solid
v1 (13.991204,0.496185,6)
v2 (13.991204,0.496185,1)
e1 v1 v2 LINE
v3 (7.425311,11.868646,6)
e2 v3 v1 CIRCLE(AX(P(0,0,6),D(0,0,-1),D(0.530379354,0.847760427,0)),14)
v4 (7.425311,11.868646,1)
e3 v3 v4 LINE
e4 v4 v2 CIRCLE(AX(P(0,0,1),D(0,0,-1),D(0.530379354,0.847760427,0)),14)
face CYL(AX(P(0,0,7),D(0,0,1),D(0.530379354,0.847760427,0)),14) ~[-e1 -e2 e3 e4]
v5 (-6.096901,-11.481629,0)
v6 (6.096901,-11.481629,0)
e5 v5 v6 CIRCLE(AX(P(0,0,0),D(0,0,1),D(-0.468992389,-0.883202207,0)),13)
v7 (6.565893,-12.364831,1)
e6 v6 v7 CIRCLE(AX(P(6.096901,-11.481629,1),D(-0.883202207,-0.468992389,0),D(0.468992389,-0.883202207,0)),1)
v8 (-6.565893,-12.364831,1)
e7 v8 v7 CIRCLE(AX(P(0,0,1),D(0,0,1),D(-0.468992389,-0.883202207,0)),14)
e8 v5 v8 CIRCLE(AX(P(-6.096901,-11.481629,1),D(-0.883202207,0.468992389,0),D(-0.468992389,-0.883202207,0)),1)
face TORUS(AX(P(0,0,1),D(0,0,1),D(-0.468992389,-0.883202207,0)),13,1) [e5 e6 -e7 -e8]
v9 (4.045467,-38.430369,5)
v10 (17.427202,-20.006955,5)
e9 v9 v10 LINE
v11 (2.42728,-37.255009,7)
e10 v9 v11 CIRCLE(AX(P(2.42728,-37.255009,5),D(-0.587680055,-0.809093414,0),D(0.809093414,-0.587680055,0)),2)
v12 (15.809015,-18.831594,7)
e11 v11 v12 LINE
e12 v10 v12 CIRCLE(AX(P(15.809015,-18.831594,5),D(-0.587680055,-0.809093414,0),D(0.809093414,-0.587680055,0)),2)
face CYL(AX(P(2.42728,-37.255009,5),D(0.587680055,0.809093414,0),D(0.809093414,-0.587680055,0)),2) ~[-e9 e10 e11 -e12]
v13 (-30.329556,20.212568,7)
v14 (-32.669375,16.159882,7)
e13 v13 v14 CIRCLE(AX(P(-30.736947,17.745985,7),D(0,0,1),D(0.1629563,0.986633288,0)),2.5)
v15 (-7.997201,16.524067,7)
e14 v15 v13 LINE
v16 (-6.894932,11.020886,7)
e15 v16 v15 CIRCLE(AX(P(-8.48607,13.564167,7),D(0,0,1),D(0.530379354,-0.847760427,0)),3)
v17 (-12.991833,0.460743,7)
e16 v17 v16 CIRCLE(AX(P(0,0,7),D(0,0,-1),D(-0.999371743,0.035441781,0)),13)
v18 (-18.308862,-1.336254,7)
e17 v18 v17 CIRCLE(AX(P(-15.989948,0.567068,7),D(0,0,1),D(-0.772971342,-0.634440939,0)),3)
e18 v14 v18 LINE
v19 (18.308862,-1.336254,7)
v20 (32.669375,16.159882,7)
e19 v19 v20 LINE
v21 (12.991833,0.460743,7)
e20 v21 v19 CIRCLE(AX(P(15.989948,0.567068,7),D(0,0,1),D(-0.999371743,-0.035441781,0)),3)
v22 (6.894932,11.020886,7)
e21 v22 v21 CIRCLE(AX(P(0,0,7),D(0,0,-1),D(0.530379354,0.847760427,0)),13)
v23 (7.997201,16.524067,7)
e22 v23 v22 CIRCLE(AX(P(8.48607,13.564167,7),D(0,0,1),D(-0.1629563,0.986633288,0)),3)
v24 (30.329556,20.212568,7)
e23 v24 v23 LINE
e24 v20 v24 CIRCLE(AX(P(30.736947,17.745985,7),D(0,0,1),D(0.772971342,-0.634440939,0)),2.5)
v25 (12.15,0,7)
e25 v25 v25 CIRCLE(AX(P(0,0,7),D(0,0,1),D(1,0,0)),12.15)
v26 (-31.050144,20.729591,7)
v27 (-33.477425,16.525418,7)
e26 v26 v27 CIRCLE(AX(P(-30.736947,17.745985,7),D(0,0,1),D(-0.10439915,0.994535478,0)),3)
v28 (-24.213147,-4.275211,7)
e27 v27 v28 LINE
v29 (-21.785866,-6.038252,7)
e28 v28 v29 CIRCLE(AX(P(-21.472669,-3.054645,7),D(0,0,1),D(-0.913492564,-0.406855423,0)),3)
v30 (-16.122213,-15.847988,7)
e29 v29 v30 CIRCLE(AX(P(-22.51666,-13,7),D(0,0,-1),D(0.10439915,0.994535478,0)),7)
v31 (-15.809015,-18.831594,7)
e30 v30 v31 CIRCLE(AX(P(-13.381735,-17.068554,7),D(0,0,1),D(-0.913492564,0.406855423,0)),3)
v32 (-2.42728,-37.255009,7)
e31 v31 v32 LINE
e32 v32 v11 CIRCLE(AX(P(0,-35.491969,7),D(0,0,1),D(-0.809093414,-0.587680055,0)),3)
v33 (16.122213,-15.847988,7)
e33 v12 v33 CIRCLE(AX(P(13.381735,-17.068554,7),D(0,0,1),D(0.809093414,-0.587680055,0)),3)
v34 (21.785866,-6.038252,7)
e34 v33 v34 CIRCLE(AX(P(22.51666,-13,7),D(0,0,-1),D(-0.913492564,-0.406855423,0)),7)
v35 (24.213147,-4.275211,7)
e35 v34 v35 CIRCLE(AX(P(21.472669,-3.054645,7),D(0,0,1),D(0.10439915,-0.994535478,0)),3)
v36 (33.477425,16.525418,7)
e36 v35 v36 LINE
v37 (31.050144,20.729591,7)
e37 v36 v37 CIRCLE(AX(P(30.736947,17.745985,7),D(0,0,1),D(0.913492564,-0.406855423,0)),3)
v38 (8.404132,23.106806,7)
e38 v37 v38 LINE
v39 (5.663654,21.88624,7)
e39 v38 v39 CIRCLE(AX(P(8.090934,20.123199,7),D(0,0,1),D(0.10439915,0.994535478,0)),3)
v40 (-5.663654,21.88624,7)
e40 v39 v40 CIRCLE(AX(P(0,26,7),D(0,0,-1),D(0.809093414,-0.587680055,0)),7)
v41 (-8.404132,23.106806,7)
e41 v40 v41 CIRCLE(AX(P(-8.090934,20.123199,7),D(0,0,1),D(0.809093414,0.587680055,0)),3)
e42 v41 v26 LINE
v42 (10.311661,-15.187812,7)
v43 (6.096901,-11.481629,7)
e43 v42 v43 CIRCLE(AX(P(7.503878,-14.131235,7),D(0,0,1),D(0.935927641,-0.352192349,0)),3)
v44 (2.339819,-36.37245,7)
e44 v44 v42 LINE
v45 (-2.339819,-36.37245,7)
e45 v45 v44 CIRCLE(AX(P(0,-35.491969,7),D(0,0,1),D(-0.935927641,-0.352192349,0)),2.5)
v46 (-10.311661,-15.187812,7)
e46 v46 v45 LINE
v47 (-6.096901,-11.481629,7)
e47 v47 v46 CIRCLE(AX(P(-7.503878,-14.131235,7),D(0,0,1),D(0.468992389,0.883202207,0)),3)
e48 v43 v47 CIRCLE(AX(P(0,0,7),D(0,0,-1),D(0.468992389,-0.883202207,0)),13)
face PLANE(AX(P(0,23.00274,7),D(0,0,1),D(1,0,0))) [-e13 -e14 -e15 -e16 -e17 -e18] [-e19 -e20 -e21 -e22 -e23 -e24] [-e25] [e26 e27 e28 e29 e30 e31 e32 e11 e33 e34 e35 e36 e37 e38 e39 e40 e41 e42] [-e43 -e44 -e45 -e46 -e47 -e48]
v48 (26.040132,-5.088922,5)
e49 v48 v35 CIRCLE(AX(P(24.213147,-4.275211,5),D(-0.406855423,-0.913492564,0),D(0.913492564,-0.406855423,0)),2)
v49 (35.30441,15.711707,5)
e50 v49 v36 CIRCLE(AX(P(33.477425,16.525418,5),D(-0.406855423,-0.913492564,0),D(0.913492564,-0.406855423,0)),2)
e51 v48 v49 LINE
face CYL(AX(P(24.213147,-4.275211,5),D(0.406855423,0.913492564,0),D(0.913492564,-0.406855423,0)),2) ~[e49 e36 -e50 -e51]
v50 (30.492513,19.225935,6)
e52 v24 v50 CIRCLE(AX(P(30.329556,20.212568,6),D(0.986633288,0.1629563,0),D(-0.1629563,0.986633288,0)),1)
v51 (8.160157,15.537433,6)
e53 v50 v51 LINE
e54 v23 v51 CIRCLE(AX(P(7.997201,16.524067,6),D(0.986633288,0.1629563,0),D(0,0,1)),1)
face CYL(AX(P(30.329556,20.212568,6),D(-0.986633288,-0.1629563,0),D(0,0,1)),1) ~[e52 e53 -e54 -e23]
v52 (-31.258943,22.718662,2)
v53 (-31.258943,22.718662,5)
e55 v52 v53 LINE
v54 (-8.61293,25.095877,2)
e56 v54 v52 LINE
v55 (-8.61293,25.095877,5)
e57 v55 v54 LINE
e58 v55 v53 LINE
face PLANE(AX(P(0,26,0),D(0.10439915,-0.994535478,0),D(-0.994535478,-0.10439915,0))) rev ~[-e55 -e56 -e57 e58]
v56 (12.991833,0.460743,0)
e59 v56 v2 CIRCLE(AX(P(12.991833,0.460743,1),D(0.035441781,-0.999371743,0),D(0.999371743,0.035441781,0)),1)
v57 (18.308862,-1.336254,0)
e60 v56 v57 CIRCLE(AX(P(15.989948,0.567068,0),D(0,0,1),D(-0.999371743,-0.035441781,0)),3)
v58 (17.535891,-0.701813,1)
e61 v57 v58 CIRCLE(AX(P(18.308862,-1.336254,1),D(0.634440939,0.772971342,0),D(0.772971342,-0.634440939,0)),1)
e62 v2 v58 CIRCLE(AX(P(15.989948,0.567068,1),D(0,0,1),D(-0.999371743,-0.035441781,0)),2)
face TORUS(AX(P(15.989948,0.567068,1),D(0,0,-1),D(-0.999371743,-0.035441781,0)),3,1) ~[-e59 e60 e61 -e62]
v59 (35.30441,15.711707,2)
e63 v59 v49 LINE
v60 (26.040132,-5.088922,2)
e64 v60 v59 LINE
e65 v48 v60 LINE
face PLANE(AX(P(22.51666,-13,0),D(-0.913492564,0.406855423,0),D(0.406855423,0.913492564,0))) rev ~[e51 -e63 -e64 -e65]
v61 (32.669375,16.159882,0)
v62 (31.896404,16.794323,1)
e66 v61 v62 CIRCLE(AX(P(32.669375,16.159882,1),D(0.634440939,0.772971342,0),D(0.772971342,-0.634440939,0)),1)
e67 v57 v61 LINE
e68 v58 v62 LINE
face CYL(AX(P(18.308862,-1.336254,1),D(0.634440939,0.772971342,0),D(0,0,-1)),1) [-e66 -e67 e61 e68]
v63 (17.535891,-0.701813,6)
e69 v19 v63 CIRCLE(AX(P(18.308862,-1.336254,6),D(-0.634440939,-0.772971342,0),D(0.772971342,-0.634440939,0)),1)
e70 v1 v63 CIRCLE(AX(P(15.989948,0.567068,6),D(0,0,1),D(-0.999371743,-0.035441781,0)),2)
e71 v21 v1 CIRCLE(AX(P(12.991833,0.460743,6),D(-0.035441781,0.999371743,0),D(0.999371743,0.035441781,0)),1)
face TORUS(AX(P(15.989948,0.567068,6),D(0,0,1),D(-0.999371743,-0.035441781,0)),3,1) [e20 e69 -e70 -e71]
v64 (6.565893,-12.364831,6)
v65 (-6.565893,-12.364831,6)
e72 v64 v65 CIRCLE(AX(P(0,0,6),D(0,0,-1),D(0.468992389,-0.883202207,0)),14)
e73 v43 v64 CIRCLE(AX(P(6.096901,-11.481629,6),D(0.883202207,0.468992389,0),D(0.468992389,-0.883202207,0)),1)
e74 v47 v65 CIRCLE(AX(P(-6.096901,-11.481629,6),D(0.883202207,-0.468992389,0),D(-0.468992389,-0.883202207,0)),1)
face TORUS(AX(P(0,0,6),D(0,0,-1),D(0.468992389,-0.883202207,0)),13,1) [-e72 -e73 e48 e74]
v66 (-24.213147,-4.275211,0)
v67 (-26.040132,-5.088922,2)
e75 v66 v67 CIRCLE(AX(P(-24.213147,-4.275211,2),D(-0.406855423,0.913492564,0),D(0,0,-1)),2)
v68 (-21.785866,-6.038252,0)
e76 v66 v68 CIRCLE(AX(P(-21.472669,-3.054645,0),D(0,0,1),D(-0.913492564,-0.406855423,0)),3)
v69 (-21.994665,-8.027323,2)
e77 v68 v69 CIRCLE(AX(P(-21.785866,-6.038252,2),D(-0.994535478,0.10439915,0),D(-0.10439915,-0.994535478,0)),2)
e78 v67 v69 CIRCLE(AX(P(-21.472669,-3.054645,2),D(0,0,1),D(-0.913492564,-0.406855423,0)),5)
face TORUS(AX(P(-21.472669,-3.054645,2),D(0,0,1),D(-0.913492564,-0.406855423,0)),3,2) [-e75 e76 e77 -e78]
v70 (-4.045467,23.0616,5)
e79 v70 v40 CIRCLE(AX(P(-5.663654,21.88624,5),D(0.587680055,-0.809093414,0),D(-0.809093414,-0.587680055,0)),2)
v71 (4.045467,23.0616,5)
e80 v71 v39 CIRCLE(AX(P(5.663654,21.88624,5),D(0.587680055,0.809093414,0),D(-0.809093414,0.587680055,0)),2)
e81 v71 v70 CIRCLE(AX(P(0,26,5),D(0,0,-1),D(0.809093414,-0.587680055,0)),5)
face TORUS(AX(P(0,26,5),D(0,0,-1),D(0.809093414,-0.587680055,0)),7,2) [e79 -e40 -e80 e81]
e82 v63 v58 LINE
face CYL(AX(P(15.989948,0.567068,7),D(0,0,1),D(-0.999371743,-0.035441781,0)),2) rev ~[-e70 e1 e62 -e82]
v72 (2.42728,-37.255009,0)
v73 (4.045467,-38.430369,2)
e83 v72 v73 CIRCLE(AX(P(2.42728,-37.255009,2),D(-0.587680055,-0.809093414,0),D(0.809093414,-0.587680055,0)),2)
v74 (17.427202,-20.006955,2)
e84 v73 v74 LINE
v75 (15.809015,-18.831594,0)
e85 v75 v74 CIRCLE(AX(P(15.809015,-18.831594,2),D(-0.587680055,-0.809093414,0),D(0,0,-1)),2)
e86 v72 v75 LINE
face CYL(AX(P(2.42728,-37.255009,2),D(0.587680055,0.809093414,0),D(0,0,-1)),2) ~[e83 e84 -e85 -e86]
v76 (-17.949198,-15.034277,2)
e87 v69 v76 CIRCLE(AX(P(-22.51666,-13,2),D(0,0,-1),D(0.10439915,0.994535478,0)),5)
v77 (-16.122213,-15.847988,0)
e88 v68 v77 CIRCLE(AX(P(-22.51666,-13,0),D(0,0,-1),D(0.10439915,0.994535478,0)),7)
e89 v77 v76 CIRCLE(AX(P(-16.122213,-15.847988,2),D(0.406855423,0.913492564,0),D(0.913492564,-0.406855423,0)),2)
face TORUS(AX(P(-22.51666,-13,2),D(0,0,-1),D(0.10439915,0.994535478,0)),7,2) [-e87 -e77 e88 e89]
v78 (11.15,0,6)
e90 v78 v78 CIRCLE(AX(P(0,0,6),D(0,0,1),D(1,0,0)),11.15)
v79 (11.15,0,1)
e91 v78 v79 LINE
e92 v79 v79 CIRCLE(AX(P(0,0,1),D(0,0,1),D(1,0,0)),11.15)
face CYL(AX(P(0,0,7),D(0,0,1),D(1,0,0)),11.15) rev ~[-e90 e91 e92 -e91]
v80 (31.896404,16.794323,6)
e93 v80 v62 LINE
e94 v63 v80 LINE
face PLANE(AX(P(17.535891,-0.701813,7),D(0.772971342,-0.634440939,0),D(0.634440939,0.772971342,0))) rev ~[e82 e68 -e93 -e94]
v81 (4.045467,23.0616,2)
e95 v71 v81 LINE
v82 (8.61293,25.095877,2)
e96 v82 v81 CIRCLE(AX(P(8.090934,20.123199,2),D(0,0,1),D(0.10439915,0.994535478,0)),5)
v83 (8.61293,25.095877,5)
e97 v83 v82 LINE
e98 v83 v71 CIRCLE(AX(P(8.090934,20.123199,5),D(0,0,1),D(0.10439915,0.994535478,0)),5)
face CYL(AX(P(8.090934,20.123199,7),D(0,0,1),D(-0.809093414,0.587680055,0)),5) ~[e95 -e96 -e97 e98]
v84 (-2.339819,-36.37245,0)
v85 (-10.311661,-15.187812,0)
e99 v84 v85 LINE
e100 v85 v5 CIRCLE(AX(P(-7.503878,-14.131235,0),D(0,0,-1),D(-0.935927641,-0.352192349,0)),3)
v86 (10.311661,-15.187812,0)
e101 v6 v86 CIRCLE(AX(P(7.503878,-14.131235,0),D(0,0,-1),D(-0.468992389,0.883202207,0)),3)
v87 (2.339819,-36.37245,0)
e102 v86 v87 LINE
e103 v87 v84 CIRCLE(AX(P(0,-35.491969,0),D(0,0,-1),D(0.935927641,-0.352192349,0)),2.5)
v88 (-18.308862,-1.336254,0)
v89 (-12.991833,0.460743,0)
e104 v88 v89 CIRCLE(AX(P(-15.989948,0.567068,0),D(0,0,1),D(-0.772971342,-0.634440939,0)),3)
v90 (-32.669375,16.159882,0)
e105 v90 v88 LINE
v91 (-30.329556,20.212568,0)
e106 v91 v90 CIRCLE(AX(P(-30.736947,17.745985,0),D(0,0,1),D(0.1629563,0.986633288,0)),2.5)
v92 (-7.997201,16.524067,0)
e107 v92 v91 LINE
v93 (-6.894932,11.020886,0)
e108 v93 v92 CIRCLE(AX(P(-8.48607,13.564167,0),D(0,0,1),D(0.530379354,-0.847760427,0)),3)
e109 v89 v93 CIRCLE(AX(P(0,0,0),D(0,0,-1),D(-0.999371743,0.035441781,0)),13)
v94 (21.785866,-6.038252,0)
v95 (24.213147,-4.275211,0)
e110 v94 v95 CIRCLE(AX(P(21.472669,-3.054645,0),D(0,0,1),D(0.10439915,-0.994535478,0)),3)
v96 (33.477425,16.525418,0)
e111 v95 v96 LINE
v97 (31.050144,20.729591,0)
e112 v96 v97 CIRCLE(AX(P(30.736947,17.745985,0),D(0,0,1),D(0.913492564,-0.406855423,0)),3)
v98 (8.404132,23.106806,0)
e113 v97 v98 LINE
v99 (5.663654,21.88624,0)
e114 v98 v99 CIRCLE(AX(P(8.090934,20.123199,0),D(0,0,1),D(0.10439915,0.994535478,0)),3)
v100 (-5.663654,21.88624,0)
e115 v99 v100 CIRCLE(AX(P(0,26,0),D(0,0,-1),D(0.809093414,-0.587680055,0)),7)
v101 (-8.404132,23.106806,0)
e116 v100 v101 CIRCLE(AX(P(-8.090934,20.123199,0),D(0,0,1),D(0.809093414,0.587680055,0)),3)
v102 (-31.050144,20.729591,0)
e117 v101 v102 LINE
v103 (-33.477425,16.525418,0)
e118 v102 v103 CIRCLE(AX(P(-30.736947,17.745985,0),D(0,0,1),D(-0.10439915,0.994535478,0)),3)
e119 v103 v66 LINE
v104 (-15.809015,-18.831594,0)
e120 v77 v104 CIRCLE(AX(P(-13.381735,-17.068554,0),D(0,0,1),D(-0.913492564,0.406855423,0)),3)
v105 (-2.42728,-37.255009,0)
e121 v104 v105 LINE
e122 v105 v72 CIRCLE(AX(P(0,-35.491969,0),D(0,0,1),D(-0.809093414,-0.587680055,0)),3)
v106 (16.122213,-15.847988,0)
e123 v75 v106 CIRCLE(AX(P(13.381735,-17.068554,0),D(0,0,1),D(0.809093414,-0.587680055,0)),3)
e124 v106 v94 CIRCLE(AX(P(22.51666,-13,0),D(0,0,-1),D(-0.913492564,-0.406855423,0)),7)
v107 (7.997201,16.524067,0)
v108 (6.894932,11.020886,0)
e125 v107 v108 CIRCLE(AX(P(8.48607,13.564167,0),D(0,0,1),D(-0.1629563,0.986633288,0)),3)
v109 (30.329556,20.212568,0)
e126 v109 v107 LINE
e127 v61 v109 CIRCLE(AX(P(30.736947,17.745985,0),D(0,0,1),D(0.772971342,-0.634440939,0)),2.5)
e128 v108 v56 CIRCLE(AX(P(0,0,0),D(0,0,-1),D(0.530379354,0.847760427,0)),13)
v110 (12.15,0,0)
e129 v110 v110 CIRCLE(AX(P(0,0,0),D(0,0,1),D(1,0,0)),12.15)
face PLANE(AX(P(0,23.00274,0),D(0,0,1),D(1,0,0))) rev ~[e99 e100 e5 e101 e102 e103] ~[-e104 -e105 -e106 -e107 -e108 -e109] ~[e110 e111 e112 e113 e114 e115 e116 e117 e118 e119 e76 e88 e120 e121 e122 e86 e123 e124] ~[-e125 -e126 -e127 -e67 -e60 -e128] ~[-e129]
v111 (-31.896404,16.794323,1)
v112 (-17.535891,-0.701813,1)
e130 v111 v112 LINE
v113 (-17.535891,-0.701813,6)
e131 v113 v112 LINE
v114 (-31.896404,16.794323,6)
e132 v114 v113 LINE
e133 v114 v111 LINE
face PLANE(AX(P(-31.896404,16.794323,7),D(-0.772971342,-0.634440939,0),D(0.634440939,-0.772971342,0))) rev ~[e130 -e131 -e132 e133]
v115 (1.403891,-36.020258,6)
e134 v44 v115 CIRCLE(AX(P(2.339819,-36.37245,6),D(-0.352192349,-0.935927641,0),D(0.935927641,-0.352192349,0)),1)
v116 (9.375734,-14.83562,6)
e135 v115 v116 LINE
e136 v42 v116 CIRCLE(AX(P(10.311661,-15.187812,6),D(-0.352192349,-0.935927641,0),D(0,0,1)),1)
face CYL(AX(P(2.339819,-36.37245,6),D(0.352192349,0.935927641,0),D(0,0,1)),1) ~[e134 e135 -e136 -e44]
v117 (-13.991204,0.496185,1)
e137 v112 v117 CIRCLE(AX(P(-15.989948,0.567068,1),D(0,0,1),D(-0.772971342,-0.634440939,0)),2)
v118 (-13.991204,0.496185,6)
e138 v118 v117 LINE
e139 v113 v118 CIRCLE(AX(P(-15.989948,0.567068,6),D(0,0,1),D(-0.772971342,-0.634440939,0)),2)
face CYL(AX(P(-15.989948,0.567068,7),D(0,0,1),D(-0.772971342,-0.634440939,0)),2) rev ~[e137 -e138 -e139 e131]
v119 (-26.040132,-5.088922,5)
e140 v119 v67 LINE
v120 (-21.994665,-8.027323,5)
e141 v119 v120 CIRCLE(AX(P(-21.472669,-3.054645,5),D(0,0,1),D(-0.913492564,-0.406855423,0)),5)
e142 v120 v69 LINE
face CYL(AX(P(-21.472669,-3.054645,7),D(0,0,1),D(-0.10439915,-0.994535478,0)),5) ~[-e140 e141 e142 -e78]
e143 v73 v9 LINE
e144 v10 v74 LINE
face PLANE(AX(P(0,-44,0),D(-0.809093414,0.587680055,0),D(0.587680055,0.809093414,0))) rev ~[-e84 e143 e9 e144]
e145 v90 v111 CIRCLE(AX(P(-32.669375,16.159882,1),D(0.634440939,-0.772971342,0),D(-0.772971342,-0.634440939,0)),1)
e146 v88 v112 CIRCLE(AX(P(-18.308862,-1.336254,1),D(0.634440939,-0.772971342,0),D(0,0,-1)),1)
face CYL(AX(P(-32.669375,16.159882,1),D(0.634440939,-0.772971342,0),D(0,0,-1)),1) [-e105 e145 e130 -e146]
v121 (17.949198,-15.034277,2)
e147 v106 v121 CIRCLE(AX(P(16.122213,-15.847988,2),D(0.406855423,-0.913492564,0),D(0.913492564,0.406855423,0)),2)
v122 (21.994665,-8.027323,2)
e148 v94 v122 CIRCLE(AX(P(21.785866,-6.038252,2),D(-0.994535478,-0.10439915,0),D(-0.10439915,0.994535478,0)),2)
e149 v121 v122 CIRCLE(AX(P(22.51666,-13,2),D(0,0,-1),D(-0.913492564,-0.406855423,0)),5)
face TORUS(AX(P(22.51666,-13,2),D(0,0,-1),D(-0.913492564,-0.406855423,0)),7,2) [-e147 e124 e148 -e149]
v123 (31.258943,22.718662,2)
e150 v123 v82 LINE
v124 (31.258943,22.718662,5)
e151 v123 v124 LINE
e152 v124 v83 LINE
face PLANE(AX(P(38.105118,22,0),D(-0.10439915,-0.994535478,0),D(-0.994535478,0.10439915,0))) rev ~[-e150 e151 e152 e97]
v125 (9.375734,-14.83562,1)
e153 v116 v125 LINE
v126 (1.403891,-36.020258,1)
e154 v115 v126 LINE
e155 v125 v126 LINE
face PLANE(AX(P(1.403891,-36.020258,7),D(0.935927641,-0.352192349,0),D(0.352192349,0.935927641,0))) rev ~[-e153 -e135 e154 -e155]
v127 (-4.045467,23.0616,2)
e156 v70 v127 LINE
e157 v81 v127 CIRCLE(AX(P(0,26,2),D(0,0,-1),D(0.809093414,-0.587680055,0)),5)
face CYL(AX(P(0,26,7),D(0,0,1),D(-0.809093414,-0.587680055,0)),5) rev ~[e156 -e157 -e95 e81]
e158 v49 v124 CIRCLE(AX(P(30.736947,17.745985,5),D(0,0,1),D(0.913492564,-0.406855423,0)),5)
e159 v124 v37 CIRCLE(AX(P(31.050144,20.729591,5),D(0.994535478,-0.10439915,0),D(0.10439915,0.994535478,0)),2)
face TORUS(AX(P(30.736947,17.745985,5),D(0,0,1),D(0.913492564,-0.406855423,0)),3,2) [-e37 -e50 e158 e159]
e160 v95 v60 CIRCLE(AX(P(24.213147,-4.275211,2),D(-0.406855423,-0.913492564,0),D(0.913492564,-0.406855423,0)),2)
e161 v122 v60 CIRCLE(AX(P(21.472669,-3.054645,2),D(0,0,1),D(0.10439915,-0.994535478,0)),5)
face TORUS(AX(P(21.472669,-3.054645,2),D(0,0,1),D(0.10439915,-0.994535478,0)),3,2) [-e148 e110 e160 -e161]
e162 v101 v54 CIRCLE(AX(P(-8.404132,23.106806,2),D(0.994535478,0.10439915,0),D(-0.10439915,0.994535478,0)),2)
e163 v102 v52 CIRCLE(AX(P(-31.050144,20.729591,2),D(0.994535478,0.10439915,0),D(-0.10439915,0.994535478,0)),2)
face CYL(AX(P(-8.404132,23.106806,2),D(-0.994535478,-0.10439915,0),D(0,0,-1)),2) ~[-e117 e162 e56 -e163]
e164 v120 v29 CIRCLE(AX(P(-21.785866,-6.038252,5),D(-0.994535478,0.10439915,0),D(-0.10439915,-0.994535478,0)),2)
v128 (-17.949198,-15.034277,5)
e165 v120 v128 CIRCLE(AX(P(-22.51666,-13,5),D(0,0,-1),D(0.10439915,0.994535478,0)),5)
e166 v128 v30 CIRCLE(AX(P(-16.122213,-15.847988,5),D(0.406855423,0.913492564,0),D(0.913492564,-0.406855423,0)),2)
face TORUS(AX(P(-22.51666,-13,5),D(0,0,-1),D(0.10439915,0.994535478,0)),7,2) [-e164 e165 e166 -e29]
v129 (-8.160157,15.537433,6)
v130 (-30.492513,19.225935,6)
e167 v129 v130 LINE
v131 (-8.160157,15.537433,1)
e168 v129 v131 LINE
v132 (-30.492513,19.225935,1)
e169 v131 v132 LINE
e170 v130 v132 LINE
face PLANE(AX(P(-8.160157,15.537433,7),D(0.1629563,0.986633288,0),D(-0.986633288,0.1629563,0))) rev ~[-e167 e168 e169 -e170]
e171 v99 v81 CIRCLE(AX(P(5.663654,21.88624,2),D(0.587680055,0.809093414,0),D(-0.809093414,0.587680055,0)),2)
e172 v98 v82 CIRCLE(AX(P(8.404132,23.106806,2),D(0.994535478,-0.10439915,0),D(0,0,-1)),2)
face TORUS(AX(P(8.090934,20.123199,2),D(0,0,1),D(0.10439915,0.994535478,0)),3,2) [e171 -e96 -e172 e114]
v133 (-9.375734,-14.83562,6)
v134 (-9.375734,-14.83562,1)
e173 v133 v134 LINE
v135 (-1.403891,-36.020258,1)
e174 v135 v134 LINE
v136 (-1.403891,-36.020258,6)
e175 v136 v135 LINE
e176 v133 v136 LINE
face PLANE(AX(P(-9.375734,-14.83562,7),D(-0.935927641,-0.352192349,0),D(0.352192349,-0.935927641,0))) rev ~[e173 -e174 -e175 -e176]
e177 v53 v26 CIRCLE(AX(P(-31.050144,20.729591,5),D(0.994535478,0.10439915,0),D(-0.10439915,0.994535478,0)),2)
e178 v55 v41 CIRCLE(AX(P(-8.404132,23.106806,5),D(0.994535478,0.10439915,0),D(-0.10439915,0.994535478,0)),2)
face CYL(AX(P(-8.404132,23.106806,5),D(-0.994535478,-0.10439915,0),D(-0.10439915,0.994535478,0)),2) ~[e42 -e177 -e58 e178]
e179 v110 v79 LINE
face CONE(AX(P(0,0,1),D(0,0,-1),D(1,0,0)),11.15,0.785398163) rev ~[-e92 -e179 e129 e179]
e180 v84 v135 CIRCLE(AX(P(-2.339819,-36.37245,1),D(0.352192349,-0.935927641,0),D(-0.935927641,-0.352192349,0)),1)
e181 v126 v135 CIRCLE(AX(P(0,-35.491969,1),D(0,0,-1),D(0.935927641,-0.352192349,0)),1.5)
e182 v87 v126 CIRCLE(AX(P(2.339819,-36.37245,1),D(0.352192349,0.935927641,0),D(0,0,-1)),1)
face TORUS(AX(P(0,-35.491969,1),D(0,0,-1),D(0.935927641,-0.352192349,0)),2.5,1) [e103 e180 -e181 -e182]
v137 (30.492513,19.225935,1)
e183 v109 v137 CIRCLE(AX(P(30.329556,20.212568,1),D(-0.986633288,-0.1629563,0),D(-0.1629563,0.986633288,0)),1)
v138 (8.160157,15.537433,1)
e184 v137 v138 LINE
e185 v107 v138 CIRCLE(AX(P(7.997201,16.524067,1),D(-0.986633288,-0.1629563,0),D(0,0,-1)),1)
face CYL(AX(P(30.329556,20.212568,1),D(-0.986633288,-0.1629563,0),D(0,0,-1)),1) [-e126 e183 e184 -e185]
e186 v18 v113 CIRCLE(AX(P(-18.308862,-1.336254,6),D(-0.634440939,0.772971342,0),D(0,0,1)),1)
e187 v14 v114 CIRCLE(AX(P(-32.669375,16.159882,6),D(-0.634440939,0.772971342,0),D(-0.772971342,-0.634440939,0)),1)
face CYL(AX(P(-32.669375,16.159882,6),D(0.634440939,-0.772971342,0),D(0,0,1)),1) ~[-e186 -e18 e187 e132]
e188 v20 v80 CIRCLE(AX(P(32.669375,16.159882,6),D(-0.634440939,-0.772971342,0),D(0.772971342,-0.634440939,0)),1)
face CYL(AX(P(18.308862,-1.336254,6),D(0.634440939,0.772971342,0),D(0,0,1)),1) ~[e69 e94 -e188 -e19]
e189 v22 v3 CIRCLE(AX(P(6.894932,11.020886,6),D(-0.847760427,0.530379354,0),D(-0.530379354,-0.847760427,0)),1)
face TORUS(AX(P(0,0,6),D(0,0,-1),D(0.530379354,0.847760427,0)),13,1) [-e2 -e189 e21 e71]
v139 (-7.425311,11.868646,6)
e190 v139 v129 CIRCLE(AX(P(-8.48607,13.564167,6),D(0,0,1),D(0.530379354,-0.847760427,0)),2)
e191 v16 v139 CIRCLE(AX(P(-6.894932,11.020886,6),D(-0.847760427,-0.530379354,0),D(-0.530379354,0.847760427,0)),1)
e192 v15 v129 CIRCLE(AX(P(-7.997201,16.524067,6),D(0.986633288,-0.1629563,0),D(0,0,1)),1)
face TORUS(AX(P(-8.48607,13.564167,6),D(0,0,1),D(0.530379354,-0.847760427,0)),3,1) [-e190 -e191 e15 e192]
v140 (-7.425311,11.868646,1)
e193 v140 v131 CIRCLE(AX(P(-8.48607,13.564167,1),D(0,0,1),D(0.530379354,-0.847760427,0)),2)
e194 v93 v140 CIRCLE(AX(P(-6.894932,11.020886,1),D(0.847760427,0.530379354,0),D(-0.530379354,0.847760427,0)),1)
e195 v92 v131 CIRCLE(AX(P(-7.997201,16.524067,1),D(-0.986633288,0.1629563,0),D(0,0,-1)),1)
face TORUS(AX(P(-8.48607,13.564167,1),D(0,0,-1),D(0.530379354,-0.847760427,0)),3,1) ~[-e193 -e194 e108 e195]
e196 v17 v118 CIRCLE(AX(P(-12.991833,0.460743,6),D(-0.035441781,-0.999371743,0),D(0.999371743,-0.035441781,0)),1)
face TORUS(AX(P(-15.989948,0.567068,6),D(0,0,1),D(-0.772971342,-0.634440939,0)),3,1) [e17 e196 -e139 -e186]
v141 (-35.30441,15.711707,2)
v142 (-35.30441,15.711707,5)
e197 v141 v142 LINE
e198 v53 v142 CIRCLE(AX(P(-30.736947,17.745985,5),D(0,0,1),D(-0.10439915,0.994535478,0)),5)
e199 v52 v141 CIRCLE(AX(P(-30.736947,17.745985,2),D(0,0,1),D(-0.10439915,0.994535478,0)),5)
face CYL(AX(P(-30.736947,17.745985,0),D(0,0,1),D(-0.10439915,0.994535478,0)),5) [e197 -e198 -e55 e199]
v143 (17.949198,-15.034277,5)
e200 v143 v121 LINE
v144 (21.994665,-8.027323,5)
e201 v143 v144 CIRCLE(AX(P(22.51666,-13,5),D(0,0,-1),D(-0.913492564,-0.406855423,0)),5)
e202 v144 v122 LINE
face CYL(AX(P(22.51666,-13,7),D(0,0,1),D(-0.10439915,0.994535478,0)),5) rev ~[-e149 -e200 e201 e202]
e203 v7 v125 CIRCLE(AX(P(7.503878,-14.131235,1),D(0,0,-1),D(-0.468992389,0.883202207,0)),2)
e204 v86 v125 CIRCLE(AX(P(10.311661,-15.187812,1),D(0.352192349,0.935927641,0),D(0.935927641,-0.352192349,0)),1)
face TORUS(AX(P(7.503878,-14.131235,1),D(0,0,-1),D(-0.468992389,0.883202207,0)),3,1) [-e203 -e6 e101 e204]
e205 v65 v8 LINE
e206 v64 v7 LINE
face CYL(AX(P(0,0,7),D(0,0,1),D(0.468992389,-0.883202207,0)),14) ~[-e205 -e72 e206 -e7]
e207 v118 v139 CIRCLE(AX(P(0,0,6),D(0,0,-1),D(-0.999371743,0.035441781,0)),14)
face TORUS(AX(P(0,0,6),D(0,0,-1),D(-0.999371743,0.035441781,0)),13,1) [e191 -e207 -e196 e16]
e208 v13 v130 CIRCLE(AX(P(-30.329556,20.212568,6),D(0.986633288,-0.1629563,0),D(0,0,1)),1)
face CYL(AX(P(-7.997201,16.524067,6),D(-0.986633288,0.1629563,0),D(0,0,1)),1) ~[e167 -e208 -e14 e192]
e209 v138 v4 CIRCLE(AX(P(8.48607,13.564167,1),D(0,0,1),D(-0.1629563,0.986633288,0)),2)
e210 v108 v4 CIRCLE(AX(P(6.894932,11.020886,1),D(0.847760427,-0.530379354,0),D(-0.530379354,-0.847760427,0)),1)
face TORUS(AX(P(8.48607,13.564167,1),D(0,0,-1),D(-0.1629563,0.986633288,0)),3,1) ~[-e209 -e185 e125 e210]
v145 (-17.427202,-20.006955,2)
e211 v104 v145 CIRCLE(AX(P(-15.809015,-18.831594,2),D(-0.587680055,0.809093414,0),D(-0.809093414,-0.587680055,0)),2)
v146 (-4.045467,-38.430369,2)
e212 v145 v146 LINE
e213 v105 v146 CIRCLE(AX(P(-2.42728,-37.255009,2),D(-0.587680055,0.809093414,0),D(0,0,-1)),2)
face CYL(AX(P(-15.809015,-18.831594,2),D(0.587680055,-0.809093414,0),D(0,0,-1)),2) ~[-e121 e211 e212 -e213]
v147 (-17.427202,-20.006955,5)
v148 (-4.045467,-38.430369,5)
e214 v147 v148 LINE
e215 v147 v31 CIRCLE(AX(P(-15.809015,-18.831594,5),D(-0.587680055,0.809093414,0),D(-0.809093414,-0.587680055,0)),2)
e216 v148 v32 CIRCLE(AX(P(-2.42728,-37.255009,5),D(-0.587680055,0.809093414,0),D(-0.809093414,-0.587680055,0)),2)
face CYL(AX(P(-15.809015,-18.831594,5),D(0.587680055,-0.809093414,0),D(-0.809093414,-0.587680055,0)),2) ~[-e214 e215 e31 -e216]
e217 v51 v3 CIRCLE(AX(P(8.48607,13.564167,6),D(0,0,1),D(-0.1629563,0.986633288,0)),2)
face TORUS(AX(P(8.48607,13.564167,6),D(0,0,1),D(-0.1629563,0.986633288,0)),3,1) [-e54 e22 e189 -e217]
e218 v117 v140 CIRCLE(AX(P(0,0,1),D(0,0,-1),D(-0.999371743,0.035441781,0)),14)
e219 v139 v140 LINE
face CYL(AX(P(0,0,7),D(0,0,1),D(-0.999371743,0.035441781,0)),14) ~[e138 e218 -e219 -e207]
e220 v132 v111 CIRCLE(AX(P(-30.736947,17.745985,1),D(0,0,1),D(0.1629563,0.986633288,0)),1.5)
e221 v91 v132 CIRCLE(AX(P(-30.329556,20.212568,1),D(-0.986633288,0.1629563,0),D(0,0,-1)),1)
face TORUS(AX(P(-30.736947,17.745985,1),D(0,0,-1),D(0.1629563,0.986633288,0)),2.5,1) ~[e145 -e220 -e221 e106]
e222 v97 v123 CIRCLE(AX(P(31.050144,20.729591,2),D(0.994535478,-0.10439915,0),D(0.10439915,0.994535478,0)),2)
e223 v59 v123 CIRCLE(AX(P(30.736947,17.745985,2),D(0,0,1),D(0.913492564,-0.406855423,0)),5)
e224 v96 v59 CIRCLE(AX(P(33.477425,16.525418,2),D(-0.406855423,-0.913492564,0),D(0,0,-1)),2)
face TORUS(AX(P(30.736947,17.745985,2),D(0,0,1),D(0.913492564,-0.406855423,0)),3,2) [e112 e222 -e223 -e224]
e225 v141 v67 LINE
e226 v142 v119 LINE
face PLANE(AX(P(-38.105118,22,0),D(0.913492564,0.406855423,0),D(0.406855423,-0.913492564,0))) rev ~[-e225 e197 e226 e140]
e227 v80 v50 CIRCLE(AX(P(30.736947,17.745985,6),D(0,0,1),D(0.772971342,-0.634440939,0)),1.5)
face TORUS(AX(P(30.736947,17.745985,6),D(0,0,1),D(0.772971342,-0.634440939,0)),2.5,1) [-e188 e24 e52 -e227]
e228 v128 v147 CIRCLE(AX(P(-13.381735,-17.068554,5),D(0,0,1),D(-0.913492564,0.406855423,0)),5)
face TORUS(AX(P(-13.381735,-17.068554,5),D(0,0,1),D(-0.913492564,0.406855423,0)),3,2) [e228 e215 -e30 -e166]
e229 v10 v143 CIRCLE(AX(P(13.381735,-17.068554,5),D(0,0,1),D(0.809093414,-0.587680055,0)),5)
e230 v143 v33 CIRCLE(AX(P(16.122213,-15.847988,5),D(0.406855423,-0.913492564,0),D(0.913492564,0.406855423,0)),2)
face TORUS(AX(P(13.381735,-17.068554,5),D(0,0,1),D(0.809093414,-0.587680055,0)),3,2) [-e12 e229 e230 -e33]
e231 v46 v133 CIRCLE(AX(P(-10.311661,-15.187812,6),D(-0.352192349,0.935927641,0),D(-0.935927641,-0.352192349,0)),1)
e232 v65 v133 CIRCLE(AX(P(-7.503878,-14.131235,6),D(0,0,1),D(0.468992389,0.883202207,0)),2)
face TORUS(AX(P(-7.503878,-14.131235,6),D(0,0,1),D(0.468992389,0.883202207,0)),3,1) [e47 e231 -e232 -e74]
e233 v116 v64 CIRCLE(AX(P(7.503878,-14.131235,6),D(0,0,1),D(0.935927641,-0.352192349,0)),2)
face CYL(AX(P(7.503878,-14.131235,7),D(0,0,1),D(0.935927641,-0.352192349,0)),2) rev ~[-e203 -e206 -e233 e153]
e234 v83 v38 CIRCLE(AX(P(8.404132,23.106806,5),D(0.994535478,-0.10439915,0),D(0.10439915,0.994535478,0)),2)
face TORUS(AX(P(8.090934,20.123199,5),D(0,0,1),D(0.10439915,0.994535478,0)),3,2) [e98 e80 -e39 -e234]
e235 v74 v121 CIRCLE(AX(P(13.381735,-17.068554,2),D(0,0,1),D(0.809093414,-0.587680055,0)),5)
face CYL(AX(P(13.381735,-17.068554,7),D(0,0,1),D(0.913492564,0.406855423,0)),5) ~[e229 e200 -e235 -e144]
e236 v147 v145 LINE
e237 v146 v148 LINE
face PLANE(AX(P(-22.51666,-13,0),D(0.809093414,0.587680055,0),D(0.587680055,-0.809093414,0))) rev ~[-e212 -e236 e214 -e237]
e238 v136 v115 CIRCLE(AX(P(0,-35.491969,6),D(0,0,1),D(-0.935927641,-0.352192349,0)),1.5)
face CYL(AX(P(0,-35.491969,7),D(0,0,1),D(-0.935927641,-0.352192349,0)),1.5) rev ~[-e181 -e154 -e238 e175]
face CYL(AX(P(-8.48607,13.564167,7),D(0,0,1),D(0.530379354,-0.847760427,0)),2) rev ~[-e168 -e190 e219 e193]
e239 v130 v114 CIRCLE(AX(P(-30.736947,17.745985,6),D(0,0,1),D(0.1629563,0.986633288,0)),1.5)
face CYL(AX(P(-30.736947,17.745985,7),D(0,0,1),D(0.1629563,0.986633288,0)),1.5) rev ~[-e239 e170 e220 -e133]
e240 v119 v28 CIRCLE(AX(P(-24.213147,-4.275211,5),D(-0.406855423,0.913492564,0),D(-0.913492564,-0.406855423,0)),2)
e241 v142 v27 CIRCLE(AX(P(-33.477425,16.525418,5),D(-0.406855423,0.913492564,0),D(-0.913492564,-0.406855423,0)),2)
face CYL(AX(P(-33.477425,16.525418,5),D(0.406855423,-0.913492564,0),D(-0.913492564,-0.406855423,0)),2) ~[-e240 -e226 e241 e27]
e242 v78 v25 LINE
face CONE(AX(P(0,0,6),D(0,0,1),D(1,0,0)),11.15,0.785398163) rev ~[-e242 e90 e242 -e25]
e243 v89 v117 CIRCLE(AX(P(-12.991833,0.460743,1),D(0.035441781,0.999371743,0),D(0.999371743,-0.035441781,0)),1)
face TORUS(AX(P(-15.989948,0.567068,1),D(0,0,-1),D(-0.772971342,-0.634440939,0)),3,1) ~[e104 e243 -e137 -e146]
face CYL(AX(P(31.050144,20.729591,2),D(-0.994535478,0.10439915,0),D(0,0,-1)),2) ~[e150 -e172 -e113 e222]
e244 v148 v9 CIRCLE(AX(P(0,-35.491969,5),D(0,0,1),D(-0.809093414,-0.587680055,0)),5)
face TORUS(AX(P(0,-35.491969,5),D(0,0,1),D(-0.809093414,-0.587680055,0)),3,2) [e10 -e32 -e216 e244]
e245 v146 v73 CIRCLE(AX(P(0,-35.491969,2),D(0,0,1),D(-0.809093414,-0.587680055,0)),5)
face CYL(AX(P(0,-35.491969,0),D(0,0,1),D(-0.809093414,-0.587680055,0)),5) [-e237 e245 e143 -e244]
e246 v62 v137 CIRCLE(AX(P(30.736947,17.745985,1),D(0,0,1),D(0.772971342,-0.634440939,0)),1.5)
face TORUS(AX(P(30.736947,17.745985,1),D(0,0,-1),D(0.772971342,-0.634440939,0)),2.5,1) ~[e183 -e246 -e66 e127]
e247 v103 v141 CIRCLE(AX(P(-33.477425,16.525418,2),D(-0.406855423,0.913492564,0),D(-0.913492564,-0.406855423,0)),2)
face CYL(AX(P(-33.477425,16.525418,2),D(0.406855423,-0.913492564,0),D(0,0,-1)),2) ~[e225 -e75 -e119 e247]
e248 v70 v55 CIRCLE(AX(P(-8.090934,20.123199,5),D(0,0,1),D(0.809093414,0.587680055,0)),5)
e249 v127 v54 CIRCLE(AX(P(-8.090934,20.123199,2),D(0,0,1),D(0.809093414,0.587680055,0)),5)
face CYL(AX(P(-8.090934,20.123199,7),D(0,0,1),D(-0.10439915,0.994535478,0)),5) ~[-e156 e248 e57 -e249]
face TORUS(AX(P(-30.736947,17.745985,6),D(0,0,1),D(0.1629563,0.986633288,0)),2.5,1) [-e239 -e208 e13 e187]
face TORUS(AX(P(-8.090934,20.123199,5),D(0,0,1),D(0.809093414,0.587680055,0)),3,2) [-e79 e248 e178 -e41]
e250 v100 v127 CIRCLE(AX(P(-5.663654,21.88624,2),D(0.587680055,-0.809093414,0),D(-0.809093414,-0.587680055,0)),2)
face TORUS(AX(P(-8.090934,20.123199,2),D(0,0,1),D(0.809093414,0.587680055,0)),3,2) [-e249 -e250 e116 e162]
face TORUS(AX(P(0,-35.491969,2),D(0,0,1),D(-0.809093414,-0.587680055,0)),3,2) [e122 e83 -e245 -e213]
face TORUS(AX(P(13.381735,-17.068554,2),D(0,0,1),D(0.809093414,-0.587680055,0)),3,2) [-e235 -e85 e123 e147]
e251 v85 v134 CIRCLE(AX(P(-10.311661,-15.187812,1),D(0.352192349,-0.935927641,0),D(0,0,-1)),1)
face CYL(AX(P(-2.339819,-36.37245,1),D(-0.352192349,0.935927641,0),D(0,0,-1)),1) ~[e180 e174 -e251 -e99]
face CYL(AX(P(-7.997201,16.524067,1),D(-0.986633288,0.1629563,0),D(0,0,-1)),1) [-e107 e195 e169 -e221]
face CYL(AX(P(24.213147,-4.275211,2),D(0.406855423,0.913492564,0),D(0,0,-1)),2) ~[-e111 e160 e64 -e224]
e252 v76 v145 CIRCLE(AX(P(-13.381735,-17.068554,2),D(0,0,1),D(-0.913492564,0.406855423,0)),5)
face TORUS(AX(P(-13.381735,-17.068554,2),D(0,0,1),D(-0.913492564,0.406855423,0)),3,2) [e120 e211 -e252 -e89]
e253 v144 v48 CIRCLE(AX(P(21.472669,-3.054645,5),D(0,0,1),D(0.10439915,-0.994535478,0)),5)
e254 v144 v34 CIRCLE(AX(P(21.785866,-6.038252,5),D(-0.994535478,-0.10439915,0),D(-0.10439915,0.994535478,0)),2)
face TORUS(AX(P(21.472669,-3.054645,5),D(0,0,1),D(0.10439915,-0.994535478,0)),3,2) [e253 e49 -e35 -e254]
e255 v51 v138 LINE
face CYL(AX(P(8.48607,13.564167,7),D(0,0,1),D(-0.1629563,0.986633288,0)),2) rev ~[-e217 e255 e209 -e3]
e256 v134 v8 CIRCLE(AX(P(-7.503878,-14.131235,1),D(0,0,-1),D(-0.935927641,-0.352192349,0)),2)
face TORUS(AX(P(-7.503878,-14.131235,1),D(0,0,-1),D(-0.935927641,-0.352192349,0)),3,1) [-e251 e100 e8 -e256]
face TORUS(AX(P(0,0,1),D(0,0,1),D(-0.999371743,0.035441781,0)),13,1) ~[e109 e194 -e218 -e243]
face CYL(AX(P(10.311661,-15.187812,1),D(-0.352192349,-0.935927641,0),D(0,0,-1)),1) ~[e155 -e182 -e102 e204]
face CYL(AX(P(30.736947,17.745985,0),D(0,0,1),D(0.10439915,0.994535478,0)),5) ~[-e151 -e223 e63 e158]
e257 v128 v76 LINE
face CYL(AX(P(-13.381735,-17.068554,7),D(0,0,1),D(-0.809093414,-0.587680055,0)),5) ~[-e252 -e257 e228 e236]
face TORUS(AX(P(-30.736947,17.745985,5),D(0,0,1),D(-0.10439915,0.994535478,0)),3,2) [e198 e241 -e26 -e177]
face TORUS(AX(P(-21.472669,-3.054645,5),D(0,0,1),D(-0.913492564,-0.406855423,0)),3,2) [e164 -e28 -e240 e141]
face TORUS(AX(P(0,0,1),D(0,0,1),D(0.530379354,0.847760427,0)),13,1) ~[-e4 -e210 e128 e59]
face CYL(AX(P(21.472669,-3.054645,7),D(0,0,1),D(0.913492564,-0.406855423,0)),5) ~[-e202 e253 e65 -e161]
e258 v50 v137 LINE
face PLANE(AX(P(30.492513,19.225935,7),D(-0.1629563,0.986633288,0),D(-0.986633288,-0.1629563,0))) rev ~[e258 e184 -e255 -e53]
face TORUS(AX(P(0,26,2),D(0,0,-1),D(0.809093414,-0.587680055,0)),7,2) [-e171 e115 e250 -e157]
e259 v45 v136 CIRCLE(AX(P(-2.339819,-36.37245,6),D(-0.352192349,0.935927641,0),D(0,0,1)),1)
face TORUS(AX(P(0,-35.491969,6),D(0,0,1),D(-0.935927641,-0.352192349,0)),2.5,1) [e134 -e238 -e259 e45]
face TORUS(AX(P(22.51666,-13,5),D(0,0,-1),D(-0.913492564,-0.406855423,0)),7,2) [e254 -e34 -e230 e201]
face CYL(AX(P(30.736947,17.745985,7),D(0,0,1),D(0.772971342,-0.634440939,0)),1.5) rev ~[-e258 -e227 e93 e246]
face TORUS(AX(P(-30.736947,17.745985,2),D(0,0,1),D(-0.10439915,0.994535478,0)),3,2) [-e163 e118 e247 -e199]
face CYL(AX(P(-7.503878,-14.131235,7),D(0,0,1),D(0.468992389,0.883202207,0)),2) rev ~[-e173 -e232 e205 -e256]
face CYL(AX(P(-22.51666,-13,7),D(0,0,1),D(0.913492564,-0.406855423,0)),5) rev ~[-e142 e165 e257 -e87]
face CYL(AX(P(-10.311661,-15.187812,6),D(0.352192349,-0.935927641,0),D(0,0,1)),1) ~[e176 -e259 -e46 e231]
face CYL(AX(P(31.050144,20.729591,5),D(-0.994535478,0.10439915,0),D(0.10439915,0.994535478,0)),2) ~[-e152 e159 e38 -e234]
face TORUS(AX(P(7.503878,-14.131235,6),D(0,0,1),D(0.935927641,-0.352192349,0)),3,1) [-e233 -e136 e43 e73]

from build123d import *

# Parameters (mm, degrees)
F1_DEPTH = 7
F2_R     = 11.15
F3_DEPTH = 7.001
F4_R     = 5
F6_DEPTH = 7.001
F8_R     = 2
F9_DEPTH = 7.0010001
F10_R    = 1
F11_SIZE = 1


with BuildPart() as f1:
    # F0 (on Top) → F1 (new body)
    with BuildSketch(Plane.XY):
        Polygon((0, 26), (-38.1051177665, 22), (38.1051177665, 22), align=None)
        Polygon((38.1051177665, 22), (-38.1051177665, 22), (0, -44), align=None)
        Polygon((0, -44), (-38.1051177665, 22), (-22.5166604984, -13), align=None)
        Polygon((22.5166604984, -13), (38.1051177665, 22), (0, -44), align=None)
    extrude(amount=F1_DEPTH)

    # F2 (on face) → F3 (cut, through all)
    with BuildSketch(Plane.XY.offset(7)):
        Circle(F2_R)
    extrude(amount=-F3_DEPTH, mode=Mode.SUBTRACT)

    # F4
    f4_edges = [f1.edges().sort_by_distance(p)[0] for p in [
        (0, -44, 3.5),
        (-38.105118, 22, 3.5),
        (38.105118, 22, 3.5),
    ]]
    fillet(f4_edges, radius=F4_R)

    # F5 (on face) → F6 (cut, through all)
    with BuildSketch(Plane.XY.offset(7)):
        with BuildLine():
            ThreePointArc((-8.612929891, 25.095876838), (-6.0566570255, 24.6906622679), (-4.04546707, 23.0615997234))
            ThreePointArc((-4.04546707, 23.0615997234), (0, 21), (4.04546707, 23.0615997234))
            ThreePointArc((4.04546707, 23.0615997234), (6.0566570255, 24.6906622679), (8.612929891, 25.095876838))
            Line((8.612929891, 25.095876838), (0, 26))
            Line((0, 26), (-8.612929891, 25.095876838))
        make_face()
        with BuildLine():
            Line((-22.5166604984, -13), (-17.4272019264, -20.0069545056))
            ThreePointArc((-17.4272019264, -20.0069545056), (-18.3544122475, -17.5905499801), (-17.9491976774, -15.0342771145))
            ThreePointArc((-17.9491976774, -15.0342771145), (-18.1865334795, -10.5), (-21.9946647474, -8.0273226089))
            ThreePointArc((-21.9946647474, -8.0273226089), (-24.411069273, -7.1001122878), (-26.0401318175, -5.0889223323))
            Line((-26.0401318175, -5.0889223323), (-22.5166604984, -13))
        make_face()
        with BuildLine():
            Line((22.5166604984, -13), (26.0401318175, -5.0889223323))
            ThreePointArc((26.0401318175, -5.0889223323), (24.411069273, -7.1001122878), (21.9946647474, -8.0273226089))
            ThreePointArc((21.9946647474, -8.0273226089), (18.1865334795, -10.5), (17.9491976774, -15.0342771145))
            ThreePointArc((17.9491976774, -15.0342771145), (18.3544122475, -17.5905499801), (17.4272019264, -20.0069545056))
            Line((17.4272019264, -20.0069545056), (22.5166604984, -13))
        make_face()
    extrude(amount=-F6_DEPTH, mode=Mode.SUBTRACT)

    # F8
    f8_edges = [f1.edges().sort_by_distance(p)[0] for p in [
        (-35.067074, 20.245985, 0),
        (-31.258943, 22.718662, 3.5),
        (-35.30441, 15.711707, 3.5),
        (-35.067074, 20.245985, 7),
        (-30.672271, 5.311393, 0),
        (-26.040132, -5.088922, 3.5),
        (-30.672271, 5.311393, 7),
        (-24.411069, -7.100112, 7),
        (-24.411069, -7.100112, 0),
        (-21.994665, -8.027323, 3.5),
        (-18.186533, -10.5, 7),
        (-18.186533, -10.5, 0),
        (-17.949198, -15.034277, 3.5),
        (-18.354412, -17.59055, 7),
        (-18.354412, -17.59055, 0),
        (-17.427202, -20.006955, 3.5),
        (-10.736334, -29.218662, 0),
        (-4.045467, -38.430369, 3.5),
        (-10.736334, -29.218662, 7),
        (0, -40.491969, 0),
        (4.045467, -38.430369, 3.5),
        (0, -40.491969, 7),
        (10.736334, -29.218662, 0),
        (17.427202, -20.006955, 3.5),
        (10.736334, -29.218662, 7),
        (18.354412, -17.59055, 7),
        (18.354412, -17.59055, 0),
        (17.949198, -15.034277, 3.5),
        (18.186533, -10.5, 7),
        (18.186533, -10.5, 0),
        (21.994665, -8.027323, 3.5),
        (24.411069, -7.100112, 7),
        (24.411069, -7.100112, 0),
        (26.040132, -5.088922, 3.5),
        (30.672271, 5.311393, 0),
        (35.30441, 15.711707, 3.5),
        (30.672271, 5.311393, 7),
        (35.067074, 20.245985, 0),
        (31.258943, 22.718662, 3.5),
        (35.067074, 20.245985, 7),
        (19.935936, 23.907269, 0),
        (8.61293, 25.095877, 3.5),
        (19.935936, 23.907269, 7),
        (6.056657, 24.690662, 7),
        (6.056657, 24.690662, 0),
        (4.045467, 23.0616, 3.5),
        (0, 21, 7),
        (0, 21, 0),
        (-4.045467, 23.0616, 3.5),
        (-6.056657, 24.690662, 7),
        (-6.056657, 24.690662, 0),
        (-8.61293, 25.095877, 3.5),
        (-19.935936, 23.907269, 0),
        (-19.935936, 23.907269, 7),
    ]]
    fillet(f8_edges, radius=F8_R)

    # F7 (on face) → F9 (cut, through all)
    with BuildSketch(Plane.XY.offset(7)):
        with BuildLine():
            Line((-9.3757335028, -14.8356200168), (-1.4038914618, -36.020257742))
            ThreePointArc((-1.4038914618, -36.020257742), (0, -36.991969219), (1.4038914618, -36.020257742))
            Line((1.4038914618, -36.020257742), (9.3757335028, -14.8356200168))
            ThreePointArc((9.3757335028, -14.8356200168), (8.8245705538, -12.6293126314), (6.5658934429, -12.3648309045))
            ThreePointArc((6.5658934429, -12.3648309045), (0, -14), (-6.5658934429, -12.3648309045))
            ThreePointArc((-6.5658934429, -12.3648309045), (-8.8245705538, -12.6293126314), (-9.3757335028, -14.8356200168))
        make_face()
        with BuildLine():
            ThreePointArc((7.4253109553, 11.8686459724), (12.124355653, 7), (13.9912043982, 0.4961849321))
            ThreePointArc((13.9912043982, 0.4961849321), (15.3495908481, -1.3276459614), (17.5358905669, -0.7018133841))
            Line((17.5358905669, -0.7018133841), (31.8964039863, 16.794323201))
            ThreePointArc((31.8964039863, 16.794323201), (32.0359850796, 18.4959846095), (30.4925125246, 19.2259345411))
            Line((30.4925125246, 19.2259345411), (8.1601570641, 15.537433401))
            ThreePointArc((8.1601570641, 15.537433401), (6.5250202942, 13.9569585928), (7.4253109553, 11.8686459724))
        make_face()
        with BuildLine():
            ThreePointArc((-13.9912043982, 0.4961849321), (-12.124355653, 7), (-7.4253109553, 11.8686459724))
            ThreePointArc((-7.4253109553, 11.8686459724), (-6.5250202942, 13.9569585928), (-8.1601570641, 15.537433401))
            Line((-8.1601570641, 15.537433401), (-30.4925125246, 19.2259345411))
            ThreePointArc((-30.4925125246, 19.2259345411), (-32.0359850796, 18.4959846095), (-31.8964039863, 16.794323201))
            Line((-31.8964039863, 16.794323201), (-17.5358905669, -0.7018133841))
            ThreePointArc((-17.5358905669, -0.7018133841), (-15.3495908481, -1.3276459614), (-13.9912043982, 0.4961849321))
        make_face()
    extrude(amount=-F9_DEPTH, mode=Mode.SUBTRACT)

    # F10
    f10_edges = [f1.edges().sort_by_distance(p)[0] for p in [
        (32.035985, 18.495985, 7),
        (30.492513, 19.225935, 3.5),
        (32.035985, 18.495985, 0),
        (31.896404, 16.794323, 3.5),
        (19.326335, 17.381684, 7),
        (8.160157, 15.537433, 3.5),
        (19.326335, 17.381684, 0),
        (-19.326335, 17.381684, 7),
        (-30.492513, 19.225935, 3.5),
        (-19.326335, 17.381684, 0),
        (-8.160157, 15.537433, 3.5),
        (-6.52502, 13.956959, 7),
        (-6.52502, 13.956959, 0),
        (-7.425311, 11.868646, 3.5),
        (-12.124356, 7, 7),
        (-12.124356, 7, 0),
        (-13.991204, 0.496185, 3.5),
        (24.716147, 8.046255, 7),
        (24.716147, 8.046255, 0),
        (17.535891, -0.701813, 3.5),
        (0, -14, 7),
        (-6.565893, -12.364831, 3.5),
        (0, -14, 0),
        (6.565893, -12.364831, 3.5),
        (8.824571, -12.629313, 7),
        (8.824571, -12.629313, 0),
        (9.375734, -14.83562, 3.5),
        (5.389812, -25.427939, 7),
        (5.389812, -25.427939, 0),
        (1.403891, -36.020258, 3.5),
        (-24.716147, 8.046255, 7),
        (-17.535891, -0.701813, 3.5),
        (-24.716147, 8.046255, 0),
        (-31.896404, 16.794323, 3.5),
        (12.124356, 7, 7),
        (13.991204, 0.496185, 3.5),
        (12.124356, 7, 0),
        (7.425311, 11.868646, 3.5),
        (6.52502, 13.956959, 7),
        (6.52502, 13.956959, 0),
        (-5.389812, -25.427939, 7),
        (-1.403891, -36.020258, 3.5),
        (-5.389812, -25.427939, 0),
        (-9.375734, -14.83562, 3.5),
        (-32.035985, 18.495985, 7),
        (-32.035985, 18.495985, 0),
        (-8.824571, -12.629313, 7),
        (-8.824571, -12.629313, 0),
        (-15.349591, -1.327646, 7),
        (-15.349591, -1.327646, 0),
        (15.349591, -1.327646, 7),
        (15.349591, -1.327646, 0),
        (0, -36.991969, 7),
        (0, -36.991969, 0),
    ]]
    fillet(f10_edges, radius=F10_R)

    # F11
    f11_edges = [f1.edges().sort_by_distance(p)[0] for p in [
        (-11.15, 0, 7),
        (11.15, 0, 3.5),
        (-11.15, 0, 0),
    ]]
    chamfer(f11_edges, length=F11_SIZE)


solid = f1.part
